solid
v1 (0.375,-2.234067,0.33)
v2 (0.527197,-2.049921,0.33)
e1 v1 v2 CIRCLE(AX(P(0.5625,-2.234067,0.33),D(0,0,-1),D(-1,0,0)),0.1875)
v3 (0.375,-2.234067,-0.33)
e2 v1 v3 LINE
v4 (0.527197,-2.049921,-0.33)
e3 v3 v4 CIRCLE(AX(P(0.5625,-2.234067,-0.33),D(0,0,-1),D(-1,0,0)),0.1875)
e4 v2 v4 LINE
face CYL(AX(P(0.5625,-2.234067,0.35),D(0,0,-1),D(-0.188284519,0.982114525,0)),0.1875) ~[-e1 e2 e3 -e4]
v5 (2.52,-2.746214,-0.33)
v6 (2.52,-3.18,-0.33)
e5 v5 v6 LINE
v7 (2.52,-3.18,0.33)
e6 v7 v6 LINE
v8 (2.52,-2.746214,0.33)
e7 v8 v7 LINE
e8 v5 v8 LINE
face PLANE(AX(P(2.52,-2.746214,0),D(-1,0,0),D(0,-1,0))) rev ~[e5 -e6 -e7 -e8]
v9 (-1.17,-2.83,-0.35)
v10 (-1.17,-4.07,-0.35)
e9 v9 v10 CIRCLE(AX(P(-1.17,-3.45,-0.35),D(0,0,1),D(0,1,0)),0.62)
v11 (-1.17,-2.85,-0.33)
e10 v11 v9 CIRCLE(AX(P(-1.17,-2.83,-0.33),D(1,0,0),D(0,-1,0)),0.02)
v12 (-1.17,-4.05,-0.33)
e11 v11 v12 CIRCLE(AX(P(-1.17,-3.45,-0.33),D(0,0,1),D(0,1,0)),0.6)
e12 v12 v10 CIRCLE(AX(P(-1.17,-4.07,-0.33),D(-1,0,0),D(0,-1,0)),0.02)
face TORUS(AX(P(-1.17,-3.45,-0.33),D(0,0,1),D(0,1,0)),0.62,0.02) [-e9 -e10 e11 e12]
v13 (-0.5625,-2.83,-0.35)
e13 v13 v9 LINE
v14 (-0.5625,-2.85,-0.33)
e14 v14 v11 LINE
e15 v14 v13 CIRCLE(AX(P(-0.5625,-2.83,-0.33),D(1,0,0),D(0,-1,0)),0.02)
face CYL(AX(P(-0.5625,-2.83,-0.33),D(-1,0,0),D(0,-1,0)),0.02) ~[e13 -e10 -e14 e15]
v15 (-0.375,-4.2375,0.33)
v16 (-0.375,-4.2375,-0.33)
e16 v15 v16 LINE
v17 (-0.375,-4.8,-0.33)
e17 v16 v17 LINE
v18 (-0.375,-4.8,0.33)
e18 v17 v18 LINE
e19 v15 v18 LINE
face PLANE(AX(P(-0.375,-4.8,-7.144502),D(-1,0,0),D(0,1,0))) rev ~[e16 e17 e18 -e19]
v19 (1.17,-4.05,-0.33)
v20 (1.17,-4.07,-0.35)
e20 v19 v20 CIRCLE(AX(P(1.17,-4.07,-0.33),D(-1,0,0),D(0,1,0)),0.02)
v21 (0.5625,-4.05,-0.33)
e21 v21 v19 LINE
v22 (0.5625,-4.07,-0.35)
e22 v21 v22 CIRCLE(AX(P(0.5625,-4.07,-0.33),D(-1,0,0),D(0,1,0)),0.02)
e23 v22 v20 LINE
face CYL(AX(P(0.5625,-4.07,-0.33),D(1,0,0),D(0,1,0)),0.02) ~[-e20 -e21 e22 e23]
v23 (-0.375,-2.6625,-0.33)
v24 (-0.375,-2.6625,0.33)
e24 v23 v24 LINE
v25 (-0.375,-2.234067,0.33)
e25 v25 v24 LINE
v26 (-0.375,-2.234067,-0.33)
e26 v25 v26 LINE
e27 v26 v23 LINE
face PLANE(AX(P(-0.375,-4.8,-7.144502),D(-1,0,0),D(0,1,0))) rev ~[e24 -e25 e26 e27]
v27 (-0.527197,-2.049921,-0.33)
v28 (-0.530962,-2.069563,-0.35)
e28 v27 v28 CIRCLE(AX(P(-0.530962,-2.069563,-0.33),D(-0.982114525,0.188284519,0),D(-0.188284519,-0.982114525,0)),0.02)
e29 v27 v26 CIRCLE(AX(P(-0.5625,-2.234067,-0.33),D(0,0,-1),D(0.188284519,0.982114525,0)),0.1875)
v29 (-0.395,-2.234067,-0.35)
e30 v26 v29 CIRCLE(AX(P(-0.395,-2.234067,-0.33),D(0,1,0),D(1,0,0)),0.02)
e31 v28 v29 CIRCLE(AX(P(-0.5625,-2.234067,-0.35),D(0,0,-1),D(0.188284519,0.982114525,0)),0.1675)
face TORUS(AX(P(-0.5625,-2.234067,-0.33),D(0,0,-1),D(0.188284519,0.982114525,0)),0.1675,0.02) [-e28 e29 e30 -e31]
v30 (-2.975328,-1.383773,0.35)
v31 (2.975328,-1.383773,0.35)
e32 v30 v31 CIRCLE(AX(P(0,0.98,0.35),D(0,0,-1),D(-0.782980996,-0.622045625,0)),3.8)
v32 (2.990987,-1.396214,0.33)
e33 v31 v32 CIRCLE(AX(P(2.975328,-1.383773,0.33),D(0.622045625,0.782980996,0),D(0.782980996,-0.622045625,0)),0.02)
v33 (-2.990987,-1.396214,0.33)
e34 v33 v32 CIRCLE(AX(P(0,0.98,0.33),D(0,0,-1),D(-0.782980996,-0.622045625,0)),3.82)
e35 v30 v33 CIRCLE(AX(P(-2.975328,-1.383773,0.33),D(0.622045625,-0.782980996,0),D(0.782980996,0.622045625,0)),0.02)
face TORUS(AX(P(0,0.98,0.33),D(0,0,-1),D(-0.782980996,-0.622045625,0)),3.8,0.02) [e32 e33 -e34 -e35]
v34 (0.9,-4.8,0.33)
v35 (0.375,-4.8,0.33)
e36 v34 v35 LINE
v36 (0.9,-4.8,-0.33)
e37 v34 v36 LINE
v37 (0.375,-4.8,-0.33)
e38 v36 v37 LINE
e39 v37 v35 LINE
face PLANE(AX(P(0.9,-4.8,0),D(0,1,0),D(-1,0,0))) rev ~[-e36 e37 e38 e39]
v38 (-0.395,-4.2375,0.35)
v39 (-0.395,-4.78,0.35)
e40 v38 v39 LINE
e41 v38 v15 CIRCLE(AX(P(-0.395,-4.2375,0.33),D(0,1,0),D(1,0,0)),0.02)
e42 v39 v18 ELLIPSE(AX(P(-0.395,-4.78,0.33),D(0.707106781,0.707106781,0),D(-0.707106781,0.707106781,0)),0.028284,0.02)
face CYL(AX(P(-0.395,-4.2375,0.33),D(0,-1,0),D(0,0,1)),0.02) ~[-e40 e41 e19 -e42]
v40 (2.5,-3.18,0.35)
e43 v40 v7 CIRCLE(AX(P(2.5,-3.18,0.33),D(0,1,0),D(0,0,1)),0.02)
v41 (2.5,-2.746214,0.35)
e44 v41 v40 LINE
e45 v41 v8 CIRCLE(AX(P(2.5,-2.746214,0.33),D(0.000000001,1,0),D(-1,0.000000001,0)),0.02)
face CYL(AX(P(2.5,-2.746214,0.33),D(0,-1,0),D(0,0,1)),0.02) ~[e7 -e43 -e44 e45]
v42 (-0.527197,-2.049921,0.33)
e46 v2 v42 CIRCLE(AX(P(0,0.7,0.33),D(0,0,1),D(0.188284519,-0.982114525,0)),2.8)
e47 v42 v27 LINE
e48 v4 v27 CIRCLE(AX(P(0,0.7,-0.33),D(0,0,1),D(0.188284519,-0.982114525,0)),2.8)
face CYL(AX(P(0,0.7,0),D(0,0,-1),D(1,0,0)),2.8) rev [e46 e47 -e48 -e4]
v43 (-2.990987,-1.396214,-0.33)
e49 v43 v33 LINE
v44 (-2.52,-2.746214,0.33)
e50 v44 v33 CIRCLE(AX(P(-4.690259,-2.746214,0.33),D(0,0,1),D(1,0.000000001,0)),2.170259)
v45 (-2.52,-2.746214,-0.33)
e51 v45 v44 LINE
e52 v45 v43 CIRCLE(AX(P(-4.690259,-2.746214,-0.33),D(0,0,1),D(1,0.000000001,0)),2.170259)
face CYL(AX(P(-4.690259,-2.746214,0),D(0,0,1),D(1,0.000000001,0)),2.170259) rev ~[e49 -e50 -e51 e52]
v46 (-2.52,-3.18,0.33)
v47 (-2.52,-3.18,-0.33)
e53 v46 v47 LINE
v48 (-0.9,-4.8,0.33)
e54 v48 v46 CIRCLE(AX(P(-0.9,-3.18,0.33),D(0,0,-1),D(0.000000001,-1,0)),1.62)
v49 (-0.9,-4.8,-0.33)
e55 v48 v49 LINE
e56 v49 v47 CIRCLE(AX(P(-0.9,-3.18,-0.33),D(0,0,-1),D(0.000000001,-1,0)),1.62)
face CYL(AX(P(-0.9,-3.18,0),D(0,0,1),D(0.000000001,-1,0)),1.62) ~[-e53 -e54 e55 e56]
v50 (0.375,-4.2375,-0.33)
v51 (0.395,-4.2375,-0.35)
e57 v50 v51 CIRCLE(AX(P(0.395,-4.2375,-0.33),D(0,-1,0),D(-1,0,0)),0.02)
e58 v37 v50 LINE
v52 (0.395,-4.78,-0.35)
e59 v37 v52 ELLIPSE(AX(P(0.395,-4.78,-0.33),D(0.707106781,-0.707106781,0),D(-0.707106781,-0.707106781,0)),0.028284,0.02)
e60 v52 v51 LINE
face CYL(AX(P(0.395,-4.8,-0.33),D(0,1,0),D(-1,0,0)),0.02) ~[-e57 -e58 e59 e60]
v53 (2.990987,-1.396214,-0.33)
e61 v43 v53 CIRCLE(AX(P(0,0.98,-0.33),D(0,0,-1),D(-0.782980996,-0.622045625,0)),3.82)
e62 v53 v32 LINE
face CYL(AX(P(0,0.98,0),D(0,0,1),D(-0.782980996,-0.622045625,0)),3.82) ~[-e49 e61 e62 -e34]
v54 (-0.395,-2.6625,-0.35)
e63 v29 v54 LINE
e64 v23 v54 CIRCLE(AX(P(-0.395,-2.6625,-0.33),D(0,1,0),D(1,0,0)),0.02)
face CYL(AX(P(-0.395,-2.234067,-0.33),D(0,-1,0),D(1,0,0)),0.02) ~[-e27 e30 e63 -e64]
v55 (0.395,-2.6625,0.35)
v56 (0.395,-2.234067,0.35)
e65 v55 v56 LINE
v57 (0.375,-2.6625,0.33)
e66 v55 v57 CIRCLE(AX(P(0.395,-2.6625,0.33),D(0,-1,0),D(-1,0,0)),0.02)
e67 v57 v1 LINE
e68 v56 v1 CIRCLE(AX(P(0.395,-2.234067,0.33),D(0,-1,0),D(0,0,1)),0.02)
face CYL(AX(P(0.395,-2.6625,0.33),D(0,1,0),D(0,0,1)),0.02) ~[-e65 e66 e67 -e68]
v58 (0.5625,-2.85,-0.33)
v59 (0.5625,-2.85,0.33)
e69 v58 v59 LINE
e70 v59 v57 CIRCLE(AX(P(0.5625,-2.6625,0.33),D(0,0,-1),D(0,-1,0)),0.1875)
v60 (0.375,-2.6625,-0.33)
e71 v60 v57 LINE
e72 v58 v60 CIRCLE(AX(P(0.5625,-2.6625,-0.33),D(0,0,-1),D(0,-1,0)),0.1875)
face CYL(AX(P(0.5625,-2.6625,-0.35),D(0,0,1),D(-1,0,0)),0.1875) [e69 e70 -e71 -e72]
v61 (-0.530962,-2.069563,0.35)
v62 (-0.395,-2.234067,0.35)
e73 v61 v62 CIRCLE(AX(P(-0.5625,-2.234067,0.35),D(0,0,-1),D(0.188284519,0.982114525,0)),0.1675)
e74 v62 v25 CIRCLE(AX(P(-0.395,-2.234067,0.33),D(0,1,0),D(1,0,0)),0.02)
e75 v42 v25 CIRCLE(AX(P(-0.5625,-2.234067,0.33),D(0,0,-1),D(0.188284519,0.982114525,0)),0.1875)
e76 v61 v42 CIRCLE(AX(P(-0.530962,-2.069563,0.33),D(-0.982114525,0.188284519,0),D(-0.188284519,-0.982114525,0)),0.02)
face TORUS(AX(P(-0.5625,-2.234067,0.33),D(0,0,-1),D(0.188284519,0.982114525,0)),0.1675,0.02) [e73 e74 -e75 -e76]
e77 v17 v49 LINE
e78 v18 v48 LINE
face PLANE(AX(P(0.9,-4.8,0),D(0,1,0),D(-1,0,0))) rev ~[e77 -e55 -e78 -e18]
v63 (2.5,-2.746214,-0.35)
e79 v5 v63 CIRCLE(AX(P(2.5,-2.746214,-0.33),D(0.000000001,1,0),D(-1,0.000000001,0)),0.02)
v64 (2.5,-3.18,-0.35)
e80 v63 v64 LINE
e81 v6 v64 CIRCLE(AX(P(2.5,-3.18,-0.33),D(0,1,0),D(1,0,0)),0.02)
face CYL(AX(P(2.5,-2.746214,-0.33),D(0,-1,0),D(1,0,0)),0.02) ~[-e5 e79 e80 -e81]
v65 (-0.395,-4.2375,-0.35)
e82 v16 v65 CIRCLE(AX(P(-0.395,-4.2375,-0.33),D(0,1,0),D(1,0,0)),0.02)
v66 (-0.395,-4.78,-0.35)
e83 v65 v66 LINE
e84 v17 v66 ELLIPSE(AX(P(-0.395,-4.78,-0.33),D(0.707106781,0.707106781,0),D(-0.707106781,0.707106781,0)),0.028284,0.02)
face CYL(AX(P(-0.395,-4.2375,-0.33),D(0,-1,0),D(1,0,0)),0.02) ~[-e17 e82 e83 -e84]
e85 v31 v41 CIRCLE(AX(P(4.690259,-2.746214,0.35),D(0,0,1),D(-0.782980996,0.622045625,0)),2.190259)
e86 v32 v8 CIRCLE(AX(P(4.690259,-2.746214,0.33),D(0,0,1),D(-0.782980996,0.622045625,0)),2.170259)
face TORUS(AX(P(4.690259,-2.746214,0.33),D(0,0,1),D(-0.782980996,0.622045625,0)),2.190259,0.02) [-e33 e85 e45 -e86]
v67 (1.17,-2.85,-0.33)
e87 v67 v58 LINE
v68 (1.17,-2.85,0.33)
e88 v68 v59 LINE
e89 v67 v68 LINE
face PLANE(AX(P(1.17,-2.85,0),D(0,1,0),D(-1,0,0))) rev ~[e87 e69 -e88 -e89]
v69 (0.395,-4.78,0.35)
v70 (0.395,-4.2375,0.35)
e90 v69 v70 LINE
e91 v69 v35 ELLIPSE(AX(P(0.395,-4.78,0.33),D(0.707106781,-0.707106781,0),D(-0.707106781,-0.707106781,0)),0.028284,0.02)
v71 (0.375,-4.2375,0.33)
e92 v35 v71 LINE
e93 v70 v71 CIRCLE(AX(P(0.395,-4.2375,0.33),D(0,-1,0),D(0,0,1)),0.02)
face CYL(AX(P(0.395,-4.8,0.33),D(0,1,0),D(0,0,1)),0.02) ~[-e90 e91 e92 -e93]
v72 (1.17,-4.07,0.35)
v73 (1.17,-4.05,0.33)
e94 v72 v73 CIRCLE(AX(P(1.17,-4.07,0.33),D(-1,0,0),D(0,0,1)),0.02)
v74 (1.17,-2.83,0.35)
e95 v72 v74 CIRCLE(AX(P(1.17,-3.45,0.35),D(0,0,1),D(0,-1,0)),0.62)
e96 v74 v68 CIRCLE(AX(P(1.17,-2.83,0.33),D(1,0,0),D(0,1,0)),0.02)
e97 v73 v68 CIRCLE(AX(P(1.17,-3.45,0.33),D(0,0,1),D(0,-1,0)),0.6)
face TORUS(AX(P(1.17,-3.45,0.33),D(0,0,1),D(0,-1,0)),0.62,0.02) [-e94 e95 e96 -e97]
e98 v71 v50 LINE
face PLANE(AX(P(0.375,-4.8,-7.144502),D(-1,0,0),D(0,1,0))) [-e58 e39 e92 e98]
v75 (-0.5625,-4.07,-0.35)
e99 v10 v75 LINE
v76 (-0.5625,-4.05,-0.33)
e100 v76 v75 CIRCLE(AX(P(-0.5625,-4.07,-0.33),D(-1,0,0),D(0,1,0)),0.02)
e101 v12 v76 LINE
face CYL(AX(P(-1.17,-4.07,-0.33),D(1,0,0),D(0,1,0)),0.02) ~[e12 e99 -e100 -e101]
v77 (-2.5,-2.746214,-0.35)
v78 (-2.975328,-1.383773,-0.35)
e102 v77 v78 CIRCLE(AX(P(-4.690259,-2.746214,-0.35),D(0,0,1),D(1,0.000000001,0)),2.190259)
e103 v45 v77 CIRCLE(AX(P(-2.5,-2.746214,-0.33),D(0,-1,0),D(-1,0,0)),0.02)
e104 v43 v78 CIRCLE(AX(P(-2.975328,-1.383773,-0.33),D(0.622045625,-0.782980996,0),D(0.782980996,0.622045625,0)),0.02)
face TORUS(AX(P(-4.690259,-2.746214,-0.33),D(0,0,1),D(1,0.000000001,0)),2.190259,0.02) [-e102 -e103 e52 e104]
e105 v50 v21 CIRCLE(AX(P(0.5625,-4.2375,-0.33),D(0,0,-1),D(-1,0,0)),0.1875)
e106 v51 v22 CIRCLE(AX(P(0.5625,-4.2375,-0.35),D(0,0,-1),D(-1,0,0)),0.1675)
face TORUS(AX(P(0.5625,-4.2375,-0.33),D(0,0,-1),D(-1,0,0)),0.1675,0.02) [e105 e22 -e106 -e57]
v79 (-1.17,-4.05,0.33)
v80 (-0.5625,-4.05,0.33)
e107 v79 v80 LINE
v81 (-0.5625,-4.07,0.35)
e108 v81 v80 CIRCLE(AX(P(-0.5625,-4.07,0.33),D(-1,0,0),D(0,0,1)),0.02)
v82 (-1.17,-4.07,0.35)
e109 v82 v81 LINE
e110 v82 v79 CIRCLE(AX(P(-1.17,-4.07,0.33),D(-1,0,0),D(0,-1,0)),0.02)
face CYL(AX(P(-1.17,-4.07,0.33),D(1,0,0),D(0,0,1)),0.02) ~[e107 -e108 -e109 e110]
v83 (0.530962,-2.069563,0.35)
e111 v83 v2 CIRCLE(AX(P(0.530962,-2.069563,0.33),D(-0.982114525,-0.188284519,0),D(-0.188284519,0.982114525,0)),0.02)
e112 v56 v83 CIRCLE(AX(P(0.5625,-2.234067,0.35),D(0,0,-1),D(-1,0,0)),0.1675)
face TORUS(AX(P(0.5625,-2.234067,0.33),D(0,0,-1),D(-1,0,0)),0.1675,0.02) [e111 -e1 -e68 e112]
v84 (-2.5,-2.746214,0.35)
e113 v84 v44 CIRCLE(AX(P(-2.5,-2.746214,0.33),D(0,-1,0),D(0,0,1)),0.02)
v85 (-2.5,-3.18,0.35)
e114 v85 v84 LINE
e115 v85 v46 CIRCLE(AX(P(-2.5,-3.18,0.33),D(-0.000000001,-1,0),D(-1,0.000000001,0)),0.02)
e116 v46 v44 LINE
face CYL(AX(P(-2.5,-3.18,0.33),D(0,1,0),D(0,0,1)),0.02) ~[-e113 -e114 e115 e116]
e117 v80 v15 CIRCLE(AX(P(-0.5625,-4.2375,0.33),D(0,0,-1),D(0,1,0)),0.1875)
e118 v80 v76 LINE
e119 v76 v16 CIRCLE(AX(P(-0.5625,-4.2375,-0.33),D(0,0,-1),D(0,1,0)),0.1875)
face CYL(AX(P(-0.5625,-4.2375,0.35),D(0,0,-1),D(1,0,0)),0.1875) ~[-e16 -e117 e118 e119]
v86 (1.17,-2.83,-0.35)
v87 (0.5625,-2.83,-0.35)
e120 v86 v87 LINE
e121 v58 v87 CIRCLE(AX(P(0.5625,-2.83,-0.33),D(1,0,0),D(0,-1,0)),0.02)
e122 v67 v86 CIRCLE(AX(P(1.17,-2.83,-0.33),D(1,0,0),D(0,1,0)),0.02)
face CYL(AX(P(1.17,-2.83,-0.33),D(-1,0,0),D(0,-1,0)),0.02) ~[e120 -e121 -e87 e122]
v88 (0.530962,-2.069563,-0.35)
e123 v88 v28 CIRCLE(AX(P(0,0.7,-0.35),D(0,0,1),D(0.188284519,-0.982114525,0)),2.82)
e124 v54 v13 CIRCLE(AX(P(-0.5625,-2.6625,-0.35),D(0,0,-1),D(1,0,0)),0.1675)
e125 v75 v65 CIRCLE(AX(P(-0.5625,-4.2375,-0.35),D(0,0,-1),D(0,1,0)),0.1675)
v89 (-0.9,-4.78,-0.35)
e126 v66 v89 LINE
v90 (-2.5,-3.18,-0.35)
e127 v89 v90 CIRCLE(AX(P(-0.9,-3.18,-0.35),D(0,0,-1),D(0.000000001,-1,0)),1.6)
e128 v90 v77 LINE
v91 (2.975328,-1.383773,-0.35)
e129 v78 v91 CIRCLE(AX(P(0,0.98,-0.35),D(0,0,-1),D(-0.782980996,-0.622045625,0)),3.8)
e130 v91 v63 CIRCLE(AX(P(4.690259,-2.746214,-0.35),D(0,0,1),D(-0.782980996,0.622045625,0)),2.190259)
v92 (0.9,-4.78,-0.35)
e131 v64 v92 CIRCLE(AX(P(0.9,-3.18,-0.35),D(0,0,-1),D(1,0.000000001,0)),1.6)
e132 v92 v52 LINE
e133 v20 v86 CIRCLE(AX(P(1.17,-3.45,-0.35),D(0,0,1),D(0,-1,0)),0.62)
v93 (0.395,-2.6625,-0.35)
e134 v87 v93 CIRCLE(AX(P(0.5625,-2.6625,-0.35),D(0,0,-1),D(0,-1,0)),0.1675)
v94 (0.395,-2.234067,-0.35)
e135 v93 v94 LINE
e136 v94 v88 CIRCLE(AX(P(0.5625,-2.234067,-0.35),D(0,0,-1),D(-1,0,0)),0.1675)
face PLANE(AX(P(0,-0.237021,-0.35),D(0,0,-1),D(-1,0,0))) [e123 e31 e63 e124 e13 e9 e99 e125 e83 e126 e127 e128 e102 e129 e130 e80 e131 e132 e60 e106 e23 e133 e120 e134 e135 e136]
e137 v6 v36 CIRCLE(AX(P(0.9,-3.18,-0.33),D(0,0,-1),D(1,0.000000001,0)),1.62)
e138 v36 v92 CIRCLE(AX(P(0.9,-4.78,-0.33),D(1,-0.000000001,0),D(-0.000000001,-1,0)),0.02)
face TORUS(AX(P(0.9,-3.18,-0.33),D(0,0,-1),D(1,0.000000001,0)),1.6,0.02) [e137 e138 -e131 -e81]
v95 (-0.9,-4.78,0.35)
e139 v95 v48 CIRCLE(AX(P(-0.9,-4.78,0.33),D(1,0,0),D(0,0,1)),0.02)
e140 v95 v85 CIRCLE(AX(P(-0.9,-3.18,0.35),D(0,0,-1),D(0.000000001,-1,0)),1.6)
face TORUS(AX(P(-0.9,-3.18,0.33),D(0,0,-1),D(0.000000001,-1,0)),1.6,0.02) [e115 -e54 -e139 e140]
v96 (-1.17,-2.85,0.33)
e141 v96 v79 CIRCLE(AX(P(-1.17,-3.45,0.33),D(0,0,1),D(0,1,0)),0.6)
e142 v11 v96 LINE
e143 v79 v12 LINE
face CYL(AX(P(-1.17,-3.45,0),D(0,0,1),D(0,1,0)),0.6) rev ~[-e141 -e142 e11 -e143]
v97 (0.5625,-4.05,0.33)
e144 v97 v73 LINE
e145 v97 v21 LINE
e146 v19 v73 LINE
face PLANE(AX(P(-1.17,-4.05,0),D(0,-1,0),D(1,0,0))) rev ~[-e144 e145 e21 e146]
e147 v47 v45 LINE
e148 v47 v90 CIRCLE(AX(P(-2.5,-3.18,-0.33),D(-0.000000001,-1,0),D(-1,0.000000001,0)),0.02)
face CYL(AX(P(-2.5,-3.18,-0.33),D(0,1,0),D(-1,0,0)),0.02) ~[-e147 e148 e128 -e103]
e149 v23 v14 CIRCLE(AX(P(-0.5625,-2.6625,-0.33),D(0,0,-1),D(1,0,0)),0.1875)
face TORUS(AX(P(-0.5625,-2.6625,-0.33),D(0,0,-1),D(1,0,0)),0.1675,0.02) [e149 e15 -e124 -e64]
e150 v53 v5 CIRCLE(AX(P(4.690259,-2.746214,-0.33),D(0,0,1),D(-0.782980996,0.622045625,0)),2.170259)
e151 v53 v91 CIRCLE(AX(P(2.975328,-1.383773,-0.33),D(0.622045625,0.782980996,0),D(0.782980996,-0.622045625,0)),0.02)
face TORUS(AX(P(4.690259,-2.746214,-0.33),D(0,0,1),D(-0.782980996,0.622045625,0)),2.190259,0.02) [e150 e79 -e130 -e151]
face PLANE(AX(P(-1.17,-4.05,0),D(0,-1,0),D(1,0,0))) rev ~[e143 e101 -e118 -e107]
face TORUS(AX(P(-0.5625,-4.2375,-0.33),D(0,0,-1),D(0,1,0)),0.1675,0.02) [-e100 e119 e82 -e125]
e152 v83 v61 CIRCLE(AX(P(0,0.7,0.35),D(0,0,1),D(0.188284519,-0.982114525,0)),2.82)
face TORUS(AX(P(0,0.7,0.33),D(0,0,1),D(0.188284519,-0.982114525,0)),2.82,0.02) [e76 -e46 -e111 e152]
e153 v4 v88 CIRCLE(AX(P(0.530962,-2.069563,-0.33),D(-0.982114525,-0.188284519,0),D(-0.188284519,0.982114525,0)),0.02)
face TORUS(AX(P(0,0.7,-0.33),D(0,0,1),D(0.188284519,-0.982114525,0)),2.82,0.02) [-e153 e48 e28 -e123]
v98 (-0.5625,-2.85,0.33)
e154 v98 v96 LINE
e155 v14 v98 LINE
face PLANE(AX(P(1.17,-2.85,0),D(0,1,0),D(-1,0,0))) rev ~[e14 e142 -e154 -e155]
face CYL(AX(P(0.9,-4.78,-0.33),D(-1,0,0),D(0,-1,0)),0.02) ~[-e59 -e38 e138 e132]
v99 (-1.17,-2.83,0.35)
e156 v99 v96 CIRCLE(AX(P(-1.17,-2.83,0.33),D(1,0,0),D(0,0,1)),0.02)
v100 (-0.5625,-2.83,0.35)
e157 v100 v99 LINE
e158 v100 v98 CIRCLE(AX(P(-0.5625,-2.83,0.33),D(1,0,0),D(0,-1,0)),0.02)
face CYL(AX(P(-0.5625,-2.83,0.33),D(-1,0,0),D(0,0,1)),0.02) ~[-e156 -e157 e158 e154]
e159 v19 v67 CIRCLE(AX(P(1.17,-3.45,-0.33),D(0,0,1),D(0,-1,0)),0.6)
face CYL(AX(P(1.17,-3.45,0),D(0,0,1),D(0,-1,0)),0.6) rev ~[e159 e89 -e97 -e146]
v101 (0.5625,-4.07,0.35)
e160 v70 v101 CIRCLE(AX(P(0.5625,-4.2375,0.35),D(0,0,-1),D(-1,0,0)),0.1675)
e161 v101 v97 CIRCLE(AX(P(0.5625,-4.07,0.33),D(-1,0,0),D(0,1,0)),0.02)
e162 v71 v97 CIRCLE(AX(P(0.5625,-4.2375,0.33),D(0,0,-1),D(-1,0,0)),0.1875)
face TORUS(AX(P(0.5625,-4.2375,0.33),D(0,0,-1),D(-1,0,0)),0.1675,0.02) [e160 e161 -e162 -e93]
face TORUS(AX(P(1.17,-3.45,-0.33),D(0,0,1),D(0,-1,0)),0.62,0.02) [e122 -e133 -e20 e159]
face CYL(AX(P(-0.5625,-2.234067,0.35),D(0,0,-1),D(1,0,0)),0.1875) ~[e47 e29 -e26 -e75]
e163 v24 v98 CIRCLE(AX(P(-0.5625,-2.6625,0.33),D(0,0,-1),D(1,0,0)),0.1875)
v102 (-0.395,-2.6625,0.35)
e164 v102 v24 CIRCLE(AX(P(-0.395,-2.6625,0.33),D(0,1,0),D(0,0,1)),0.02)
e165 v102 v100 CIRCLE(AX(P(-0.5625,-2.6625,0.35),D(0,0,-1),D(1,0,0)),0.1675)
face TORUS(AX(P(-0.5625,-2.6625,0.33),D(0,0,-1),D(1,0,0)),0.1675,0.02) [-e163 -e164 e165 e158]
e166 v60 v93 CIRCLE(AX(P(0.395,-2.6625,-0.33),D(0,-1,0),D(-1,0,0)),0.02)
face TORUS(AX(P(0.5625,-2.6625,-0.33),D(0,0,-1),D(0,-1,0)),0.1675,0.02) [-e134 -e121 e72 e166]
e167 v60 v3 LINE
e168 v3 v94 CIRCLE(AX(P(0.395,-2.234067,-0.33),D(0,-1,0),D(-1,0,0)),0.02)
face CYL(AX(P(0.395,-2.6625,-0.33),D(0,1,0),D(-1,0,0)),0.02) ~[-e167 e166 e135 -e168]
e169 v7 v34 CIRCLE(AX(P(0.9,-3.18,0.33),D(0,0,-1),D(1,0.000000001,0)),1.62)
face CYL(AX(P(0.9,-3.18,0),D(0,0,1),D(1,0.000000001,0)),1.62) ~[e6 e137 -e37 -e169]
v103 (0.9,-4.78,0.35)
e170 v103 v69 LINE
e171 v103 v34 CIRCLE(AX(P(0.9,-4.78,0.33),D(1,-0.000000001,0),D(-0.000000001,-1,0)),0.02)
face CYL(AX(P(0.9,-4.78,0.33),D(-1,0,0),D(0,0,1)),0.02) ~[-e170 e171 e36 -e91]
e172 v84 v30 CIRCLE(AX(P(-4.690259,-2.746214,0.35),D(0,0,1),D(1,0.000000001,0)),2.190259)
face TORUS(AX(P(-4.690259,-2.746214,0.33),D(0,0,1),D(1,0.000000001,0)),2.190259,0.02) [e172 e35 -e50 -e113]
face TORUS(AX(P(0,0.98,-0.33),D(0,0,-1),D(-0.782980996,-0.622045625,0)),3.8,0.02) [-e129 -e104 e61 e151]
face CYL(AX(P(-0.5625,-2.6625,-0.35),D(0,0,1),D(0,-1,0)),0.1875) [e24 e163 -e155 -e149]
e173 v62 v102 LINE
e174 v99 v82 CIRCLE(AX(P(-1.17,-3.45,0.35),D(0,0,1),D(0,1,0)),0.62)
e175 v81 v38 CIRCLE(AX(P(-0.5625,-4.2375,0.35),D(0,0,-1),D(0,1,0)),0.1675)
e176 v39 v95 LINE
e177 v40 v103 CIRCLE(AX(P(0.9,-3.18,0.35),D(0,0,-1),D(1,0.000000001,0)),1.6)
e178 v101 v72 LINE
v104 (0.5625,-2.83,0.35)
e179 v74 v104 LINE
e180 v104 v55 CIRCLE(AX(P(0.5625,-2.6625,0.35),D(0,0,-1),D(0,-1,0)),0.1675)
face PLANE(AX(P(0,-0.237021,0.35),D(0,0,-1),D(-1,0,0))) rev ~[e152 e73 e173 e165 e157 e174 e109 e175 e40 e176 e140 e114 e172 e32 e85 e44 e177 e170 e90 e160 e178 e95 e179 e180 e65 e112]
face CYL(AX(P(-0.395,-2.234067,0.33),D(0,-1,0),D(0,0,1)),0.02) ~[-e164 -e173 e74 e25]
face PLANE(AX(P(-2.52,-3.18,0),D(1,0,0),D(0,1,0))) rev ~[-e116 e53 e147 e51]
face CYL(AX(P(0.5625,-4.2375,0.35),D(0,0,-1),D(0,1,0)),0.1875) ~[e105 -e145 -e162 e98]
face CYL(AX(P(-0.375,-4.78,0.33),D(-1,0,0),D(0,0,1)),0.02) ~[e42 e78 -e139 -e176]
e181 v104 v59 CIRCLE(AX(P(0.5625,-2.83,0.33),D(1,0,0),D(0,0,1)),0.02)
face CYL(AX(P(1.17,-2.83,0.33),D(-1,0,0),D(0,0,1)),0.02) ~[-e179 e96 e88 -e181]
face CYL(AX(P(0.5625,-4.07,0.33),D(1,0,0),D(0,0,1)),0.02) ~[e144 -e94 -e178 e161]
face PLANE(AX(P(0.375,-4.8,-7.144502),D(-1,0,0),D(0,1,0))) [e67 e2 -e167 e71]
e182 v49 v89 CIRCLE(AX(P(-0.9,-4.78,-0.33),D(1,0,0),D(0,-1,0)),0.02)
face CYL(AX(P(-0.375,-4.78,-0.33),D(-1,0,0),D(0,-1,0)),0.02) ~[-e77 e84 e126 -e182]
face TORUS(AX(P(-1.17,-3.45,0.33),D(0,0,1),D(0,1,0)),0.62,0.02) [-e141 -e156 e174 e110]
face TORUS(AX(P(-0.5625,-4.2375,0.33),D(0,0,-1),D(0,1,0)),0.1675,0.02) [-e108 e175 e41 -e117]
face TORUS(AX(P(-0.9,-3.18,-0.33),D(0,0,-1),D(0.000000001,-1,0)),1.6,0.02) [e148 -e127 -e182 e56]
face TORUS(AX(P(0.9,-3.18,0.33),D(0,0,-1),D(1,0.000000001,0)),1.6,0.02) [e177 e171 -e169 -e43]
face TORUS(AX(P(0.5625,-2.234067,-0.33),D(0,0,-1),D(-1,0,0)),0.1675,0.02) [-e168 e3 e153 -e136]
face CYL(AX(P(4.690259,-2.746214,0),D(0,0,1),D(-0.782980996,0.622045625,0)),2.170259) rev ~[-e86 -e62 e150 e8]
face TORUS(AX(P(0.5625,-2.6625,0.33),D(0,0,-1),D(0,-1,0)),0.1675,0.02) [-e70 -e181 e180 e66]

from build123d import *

# Parameters (mm, degrees)
SKETCH3_R                    = 2.8
BOSS_EXTRUDE1_DEPTH          = 0.35
CUT_EXTRUDE_THIN1_DEPTH      = 7.144501607
CUT_EXTRUDE_THIN1_DEPTH_BACK = 7.144501607
SKETCH4_W                    = 0.75
SKETCH4_H                    = 5.5
FILLET2_R                    = 0.1875
FILLET1_R                    = 0.02


with BuildPart() as part:
    # Sketch3 → Boss-Extrude1 (new, symmetric)
    with BuildSketch(Plane.XY):
        with BuildLine():
            Line((2.52, -2.746214287), (2.52, -3.18))
            ThreePointArc((2.52, -3.18), (2.045512986, -4.325512986), (0.9, -4.8))
            Line((0.9, -4.8), (-0.9, -4.8))
            ThreePointArc((-0.9, -4.8), (-2.045512986, -4.325512986), (-2.52, -3.18))
            Line((-2.52, -3.18), (-2.52, -2.746214287))
            ThreePointArc((-2.52, -2.746214287), (-2.641127038, -2.031314096), (-2.990987406, -1.396214287))
            ThreePointArc((-2.990987406, -1.396214287), (0, 4.8), (2.990987406, -1.396214287))
            ThreePointArc((2.990987406, -1.396214287), (2.641127038, -2.031314096), (2.52, -2.746214287))
        make_face()
        with Locations((0, 0.7)):
            Circle(SKETCH3_R, mode=Mode.SUBTRACT)
        with BuildLine():
            Line((-1.17, -4.05), (1.17, -4.05))
            ThreePointArc((1.17, -4.05), (1.77, -3.45), (1.17, -2.85))
            Line((1.17, -2.85), (-1.17, -2.85))
            ThreePointArc((-1.17, -2.85), (-1.77, -3.45), (-1.17, -4.05))
        make_face(mode=Mode.SUBTRACT)
    extrude(amount=BOSS_EXTRUDE1_DEPTH, both=True)

    # Sketch4 → Cut-Extrude-Thin1 (cut, two sides: drawn at the far end of the back side and taken through both)
    with BuildSketch(Plane.XY.offset(-CUT_EXTRUDE_THIN1_DEPTH_BACK)):
        with Locations((0, -2.05)):
            Rectangle(SKETCH4_W, SKETCH4_H)
    extrude(amount=CUT_EXTRUDE_THIN1_DEPTH + CUT_EXTRUDE_THIN1_DEPTH_BACK, mode=Mode.SUBTRACT)

    # Fillet2
    fillet2_edges = [part.edges().sort_by_distance(p)[0] for p in [
        (0.375, -2.074774766, 0),
        (-0.375, -2.074774766, 0),
        (-0.375, -4.05, 0),
        (-0.375, -2.85, 0),
        (0.375, -4.05, 0),
        (0.375, -2.85, 0),
    ]]
    fillet(fillet2_edges, radius=FILLET2_R)

    # Fillet1
    fillet1_edges = [part.edges().sort_by_distance(p)[0] for p in [
        (-2.045512986, -4.325512986, 0.35),
        (-2.52, -2.963107144, -0.35),
        (-2.641127038, -2.031314096, -0.35),
        (-0.6375, -4.8, 0.35),
        (2.045512986, -4.325512986, 0.35),
        (2.52, -2.963107144, 0.35),
        (2.641127038, -2.031314096, 0.35),
        (-1.77, -3.45, -0.35),
        (-0.86625, -4.05, -0.35),
        (1.77, -3.45, -0.35),
        (0.86625, -2.85, -0.35),
        (0, 4.8, 0.35),
        (-1.77, -3.45, 0.35),
        (-0.86625, -4.05, 0.35),
        (1.77, -3.45, 0.35),
        (0.86625, -2.85, 0.35),
        (-2.641127038, -2.031314096, 0.35),
        (0.6375, -4.8, -0.35),
        (0.6375, -4.8, 0.35),
        (-2.52, -2.963107144, 0.35),
        (0, 4.8, -0.35),
        (0.86625, -4.05, -0.35),
        (0.86625, -4.05, 0.35),
        (-0.375, -4.51875, 0.35),
        (-0.86625, -2.85, 0.35),
        (-0.375, -2.448283572, 0.35),
        (0, 3.5, 0.35),
        (0.375, -2.448283572, 0.35),
        (2.641127038, -2.031314096, -0.35),
        (0.375, -4.51875, 0.35),
        (-0.41797383, -2.114616583, 0.35),
        (-0.429917479, -2.795082521, 0.35),
        (0.41797383, -2.114616583, 0.35),
        (0.429917479, -2.795082521, 0.35),
        (-0.429917479, -4.104917479, 0.35),
        (0.429917479, -4.104917479, 0.35),
        (0.375, -4.51875, -0.35),
        (2.52, -2.963107144, -0.35),
        (-0.375, -4.51875, -0.35),
        (0.375, -2.448283572, -0.35),
        (0, 3.5, -0.35),
        (-0.375, -2.448283572, -0.35),
        (-0.86625, -2.85, -0.35),
        (-0.41797383, -2.114616583, -0.35),
        (-0.429917479, -2.795082521, -0.35),
        (2.045512986, -4.325512986, -0.35),
        (0.41797383, -2.114616583, -0.35),
        (0.429917479, -2.795082521, -0.35),
        (-0.429917479, -4.104917479, -0.35),
        (0.429917479, -4.104917479, -0.35),
        (-0.6375, -4.8, -0.35),
        (-2.045512986, -4.325512986, -0.35),
    ]]
    fillet(fillet1_edges, radius=FILLET1_R)


solid = part.part
